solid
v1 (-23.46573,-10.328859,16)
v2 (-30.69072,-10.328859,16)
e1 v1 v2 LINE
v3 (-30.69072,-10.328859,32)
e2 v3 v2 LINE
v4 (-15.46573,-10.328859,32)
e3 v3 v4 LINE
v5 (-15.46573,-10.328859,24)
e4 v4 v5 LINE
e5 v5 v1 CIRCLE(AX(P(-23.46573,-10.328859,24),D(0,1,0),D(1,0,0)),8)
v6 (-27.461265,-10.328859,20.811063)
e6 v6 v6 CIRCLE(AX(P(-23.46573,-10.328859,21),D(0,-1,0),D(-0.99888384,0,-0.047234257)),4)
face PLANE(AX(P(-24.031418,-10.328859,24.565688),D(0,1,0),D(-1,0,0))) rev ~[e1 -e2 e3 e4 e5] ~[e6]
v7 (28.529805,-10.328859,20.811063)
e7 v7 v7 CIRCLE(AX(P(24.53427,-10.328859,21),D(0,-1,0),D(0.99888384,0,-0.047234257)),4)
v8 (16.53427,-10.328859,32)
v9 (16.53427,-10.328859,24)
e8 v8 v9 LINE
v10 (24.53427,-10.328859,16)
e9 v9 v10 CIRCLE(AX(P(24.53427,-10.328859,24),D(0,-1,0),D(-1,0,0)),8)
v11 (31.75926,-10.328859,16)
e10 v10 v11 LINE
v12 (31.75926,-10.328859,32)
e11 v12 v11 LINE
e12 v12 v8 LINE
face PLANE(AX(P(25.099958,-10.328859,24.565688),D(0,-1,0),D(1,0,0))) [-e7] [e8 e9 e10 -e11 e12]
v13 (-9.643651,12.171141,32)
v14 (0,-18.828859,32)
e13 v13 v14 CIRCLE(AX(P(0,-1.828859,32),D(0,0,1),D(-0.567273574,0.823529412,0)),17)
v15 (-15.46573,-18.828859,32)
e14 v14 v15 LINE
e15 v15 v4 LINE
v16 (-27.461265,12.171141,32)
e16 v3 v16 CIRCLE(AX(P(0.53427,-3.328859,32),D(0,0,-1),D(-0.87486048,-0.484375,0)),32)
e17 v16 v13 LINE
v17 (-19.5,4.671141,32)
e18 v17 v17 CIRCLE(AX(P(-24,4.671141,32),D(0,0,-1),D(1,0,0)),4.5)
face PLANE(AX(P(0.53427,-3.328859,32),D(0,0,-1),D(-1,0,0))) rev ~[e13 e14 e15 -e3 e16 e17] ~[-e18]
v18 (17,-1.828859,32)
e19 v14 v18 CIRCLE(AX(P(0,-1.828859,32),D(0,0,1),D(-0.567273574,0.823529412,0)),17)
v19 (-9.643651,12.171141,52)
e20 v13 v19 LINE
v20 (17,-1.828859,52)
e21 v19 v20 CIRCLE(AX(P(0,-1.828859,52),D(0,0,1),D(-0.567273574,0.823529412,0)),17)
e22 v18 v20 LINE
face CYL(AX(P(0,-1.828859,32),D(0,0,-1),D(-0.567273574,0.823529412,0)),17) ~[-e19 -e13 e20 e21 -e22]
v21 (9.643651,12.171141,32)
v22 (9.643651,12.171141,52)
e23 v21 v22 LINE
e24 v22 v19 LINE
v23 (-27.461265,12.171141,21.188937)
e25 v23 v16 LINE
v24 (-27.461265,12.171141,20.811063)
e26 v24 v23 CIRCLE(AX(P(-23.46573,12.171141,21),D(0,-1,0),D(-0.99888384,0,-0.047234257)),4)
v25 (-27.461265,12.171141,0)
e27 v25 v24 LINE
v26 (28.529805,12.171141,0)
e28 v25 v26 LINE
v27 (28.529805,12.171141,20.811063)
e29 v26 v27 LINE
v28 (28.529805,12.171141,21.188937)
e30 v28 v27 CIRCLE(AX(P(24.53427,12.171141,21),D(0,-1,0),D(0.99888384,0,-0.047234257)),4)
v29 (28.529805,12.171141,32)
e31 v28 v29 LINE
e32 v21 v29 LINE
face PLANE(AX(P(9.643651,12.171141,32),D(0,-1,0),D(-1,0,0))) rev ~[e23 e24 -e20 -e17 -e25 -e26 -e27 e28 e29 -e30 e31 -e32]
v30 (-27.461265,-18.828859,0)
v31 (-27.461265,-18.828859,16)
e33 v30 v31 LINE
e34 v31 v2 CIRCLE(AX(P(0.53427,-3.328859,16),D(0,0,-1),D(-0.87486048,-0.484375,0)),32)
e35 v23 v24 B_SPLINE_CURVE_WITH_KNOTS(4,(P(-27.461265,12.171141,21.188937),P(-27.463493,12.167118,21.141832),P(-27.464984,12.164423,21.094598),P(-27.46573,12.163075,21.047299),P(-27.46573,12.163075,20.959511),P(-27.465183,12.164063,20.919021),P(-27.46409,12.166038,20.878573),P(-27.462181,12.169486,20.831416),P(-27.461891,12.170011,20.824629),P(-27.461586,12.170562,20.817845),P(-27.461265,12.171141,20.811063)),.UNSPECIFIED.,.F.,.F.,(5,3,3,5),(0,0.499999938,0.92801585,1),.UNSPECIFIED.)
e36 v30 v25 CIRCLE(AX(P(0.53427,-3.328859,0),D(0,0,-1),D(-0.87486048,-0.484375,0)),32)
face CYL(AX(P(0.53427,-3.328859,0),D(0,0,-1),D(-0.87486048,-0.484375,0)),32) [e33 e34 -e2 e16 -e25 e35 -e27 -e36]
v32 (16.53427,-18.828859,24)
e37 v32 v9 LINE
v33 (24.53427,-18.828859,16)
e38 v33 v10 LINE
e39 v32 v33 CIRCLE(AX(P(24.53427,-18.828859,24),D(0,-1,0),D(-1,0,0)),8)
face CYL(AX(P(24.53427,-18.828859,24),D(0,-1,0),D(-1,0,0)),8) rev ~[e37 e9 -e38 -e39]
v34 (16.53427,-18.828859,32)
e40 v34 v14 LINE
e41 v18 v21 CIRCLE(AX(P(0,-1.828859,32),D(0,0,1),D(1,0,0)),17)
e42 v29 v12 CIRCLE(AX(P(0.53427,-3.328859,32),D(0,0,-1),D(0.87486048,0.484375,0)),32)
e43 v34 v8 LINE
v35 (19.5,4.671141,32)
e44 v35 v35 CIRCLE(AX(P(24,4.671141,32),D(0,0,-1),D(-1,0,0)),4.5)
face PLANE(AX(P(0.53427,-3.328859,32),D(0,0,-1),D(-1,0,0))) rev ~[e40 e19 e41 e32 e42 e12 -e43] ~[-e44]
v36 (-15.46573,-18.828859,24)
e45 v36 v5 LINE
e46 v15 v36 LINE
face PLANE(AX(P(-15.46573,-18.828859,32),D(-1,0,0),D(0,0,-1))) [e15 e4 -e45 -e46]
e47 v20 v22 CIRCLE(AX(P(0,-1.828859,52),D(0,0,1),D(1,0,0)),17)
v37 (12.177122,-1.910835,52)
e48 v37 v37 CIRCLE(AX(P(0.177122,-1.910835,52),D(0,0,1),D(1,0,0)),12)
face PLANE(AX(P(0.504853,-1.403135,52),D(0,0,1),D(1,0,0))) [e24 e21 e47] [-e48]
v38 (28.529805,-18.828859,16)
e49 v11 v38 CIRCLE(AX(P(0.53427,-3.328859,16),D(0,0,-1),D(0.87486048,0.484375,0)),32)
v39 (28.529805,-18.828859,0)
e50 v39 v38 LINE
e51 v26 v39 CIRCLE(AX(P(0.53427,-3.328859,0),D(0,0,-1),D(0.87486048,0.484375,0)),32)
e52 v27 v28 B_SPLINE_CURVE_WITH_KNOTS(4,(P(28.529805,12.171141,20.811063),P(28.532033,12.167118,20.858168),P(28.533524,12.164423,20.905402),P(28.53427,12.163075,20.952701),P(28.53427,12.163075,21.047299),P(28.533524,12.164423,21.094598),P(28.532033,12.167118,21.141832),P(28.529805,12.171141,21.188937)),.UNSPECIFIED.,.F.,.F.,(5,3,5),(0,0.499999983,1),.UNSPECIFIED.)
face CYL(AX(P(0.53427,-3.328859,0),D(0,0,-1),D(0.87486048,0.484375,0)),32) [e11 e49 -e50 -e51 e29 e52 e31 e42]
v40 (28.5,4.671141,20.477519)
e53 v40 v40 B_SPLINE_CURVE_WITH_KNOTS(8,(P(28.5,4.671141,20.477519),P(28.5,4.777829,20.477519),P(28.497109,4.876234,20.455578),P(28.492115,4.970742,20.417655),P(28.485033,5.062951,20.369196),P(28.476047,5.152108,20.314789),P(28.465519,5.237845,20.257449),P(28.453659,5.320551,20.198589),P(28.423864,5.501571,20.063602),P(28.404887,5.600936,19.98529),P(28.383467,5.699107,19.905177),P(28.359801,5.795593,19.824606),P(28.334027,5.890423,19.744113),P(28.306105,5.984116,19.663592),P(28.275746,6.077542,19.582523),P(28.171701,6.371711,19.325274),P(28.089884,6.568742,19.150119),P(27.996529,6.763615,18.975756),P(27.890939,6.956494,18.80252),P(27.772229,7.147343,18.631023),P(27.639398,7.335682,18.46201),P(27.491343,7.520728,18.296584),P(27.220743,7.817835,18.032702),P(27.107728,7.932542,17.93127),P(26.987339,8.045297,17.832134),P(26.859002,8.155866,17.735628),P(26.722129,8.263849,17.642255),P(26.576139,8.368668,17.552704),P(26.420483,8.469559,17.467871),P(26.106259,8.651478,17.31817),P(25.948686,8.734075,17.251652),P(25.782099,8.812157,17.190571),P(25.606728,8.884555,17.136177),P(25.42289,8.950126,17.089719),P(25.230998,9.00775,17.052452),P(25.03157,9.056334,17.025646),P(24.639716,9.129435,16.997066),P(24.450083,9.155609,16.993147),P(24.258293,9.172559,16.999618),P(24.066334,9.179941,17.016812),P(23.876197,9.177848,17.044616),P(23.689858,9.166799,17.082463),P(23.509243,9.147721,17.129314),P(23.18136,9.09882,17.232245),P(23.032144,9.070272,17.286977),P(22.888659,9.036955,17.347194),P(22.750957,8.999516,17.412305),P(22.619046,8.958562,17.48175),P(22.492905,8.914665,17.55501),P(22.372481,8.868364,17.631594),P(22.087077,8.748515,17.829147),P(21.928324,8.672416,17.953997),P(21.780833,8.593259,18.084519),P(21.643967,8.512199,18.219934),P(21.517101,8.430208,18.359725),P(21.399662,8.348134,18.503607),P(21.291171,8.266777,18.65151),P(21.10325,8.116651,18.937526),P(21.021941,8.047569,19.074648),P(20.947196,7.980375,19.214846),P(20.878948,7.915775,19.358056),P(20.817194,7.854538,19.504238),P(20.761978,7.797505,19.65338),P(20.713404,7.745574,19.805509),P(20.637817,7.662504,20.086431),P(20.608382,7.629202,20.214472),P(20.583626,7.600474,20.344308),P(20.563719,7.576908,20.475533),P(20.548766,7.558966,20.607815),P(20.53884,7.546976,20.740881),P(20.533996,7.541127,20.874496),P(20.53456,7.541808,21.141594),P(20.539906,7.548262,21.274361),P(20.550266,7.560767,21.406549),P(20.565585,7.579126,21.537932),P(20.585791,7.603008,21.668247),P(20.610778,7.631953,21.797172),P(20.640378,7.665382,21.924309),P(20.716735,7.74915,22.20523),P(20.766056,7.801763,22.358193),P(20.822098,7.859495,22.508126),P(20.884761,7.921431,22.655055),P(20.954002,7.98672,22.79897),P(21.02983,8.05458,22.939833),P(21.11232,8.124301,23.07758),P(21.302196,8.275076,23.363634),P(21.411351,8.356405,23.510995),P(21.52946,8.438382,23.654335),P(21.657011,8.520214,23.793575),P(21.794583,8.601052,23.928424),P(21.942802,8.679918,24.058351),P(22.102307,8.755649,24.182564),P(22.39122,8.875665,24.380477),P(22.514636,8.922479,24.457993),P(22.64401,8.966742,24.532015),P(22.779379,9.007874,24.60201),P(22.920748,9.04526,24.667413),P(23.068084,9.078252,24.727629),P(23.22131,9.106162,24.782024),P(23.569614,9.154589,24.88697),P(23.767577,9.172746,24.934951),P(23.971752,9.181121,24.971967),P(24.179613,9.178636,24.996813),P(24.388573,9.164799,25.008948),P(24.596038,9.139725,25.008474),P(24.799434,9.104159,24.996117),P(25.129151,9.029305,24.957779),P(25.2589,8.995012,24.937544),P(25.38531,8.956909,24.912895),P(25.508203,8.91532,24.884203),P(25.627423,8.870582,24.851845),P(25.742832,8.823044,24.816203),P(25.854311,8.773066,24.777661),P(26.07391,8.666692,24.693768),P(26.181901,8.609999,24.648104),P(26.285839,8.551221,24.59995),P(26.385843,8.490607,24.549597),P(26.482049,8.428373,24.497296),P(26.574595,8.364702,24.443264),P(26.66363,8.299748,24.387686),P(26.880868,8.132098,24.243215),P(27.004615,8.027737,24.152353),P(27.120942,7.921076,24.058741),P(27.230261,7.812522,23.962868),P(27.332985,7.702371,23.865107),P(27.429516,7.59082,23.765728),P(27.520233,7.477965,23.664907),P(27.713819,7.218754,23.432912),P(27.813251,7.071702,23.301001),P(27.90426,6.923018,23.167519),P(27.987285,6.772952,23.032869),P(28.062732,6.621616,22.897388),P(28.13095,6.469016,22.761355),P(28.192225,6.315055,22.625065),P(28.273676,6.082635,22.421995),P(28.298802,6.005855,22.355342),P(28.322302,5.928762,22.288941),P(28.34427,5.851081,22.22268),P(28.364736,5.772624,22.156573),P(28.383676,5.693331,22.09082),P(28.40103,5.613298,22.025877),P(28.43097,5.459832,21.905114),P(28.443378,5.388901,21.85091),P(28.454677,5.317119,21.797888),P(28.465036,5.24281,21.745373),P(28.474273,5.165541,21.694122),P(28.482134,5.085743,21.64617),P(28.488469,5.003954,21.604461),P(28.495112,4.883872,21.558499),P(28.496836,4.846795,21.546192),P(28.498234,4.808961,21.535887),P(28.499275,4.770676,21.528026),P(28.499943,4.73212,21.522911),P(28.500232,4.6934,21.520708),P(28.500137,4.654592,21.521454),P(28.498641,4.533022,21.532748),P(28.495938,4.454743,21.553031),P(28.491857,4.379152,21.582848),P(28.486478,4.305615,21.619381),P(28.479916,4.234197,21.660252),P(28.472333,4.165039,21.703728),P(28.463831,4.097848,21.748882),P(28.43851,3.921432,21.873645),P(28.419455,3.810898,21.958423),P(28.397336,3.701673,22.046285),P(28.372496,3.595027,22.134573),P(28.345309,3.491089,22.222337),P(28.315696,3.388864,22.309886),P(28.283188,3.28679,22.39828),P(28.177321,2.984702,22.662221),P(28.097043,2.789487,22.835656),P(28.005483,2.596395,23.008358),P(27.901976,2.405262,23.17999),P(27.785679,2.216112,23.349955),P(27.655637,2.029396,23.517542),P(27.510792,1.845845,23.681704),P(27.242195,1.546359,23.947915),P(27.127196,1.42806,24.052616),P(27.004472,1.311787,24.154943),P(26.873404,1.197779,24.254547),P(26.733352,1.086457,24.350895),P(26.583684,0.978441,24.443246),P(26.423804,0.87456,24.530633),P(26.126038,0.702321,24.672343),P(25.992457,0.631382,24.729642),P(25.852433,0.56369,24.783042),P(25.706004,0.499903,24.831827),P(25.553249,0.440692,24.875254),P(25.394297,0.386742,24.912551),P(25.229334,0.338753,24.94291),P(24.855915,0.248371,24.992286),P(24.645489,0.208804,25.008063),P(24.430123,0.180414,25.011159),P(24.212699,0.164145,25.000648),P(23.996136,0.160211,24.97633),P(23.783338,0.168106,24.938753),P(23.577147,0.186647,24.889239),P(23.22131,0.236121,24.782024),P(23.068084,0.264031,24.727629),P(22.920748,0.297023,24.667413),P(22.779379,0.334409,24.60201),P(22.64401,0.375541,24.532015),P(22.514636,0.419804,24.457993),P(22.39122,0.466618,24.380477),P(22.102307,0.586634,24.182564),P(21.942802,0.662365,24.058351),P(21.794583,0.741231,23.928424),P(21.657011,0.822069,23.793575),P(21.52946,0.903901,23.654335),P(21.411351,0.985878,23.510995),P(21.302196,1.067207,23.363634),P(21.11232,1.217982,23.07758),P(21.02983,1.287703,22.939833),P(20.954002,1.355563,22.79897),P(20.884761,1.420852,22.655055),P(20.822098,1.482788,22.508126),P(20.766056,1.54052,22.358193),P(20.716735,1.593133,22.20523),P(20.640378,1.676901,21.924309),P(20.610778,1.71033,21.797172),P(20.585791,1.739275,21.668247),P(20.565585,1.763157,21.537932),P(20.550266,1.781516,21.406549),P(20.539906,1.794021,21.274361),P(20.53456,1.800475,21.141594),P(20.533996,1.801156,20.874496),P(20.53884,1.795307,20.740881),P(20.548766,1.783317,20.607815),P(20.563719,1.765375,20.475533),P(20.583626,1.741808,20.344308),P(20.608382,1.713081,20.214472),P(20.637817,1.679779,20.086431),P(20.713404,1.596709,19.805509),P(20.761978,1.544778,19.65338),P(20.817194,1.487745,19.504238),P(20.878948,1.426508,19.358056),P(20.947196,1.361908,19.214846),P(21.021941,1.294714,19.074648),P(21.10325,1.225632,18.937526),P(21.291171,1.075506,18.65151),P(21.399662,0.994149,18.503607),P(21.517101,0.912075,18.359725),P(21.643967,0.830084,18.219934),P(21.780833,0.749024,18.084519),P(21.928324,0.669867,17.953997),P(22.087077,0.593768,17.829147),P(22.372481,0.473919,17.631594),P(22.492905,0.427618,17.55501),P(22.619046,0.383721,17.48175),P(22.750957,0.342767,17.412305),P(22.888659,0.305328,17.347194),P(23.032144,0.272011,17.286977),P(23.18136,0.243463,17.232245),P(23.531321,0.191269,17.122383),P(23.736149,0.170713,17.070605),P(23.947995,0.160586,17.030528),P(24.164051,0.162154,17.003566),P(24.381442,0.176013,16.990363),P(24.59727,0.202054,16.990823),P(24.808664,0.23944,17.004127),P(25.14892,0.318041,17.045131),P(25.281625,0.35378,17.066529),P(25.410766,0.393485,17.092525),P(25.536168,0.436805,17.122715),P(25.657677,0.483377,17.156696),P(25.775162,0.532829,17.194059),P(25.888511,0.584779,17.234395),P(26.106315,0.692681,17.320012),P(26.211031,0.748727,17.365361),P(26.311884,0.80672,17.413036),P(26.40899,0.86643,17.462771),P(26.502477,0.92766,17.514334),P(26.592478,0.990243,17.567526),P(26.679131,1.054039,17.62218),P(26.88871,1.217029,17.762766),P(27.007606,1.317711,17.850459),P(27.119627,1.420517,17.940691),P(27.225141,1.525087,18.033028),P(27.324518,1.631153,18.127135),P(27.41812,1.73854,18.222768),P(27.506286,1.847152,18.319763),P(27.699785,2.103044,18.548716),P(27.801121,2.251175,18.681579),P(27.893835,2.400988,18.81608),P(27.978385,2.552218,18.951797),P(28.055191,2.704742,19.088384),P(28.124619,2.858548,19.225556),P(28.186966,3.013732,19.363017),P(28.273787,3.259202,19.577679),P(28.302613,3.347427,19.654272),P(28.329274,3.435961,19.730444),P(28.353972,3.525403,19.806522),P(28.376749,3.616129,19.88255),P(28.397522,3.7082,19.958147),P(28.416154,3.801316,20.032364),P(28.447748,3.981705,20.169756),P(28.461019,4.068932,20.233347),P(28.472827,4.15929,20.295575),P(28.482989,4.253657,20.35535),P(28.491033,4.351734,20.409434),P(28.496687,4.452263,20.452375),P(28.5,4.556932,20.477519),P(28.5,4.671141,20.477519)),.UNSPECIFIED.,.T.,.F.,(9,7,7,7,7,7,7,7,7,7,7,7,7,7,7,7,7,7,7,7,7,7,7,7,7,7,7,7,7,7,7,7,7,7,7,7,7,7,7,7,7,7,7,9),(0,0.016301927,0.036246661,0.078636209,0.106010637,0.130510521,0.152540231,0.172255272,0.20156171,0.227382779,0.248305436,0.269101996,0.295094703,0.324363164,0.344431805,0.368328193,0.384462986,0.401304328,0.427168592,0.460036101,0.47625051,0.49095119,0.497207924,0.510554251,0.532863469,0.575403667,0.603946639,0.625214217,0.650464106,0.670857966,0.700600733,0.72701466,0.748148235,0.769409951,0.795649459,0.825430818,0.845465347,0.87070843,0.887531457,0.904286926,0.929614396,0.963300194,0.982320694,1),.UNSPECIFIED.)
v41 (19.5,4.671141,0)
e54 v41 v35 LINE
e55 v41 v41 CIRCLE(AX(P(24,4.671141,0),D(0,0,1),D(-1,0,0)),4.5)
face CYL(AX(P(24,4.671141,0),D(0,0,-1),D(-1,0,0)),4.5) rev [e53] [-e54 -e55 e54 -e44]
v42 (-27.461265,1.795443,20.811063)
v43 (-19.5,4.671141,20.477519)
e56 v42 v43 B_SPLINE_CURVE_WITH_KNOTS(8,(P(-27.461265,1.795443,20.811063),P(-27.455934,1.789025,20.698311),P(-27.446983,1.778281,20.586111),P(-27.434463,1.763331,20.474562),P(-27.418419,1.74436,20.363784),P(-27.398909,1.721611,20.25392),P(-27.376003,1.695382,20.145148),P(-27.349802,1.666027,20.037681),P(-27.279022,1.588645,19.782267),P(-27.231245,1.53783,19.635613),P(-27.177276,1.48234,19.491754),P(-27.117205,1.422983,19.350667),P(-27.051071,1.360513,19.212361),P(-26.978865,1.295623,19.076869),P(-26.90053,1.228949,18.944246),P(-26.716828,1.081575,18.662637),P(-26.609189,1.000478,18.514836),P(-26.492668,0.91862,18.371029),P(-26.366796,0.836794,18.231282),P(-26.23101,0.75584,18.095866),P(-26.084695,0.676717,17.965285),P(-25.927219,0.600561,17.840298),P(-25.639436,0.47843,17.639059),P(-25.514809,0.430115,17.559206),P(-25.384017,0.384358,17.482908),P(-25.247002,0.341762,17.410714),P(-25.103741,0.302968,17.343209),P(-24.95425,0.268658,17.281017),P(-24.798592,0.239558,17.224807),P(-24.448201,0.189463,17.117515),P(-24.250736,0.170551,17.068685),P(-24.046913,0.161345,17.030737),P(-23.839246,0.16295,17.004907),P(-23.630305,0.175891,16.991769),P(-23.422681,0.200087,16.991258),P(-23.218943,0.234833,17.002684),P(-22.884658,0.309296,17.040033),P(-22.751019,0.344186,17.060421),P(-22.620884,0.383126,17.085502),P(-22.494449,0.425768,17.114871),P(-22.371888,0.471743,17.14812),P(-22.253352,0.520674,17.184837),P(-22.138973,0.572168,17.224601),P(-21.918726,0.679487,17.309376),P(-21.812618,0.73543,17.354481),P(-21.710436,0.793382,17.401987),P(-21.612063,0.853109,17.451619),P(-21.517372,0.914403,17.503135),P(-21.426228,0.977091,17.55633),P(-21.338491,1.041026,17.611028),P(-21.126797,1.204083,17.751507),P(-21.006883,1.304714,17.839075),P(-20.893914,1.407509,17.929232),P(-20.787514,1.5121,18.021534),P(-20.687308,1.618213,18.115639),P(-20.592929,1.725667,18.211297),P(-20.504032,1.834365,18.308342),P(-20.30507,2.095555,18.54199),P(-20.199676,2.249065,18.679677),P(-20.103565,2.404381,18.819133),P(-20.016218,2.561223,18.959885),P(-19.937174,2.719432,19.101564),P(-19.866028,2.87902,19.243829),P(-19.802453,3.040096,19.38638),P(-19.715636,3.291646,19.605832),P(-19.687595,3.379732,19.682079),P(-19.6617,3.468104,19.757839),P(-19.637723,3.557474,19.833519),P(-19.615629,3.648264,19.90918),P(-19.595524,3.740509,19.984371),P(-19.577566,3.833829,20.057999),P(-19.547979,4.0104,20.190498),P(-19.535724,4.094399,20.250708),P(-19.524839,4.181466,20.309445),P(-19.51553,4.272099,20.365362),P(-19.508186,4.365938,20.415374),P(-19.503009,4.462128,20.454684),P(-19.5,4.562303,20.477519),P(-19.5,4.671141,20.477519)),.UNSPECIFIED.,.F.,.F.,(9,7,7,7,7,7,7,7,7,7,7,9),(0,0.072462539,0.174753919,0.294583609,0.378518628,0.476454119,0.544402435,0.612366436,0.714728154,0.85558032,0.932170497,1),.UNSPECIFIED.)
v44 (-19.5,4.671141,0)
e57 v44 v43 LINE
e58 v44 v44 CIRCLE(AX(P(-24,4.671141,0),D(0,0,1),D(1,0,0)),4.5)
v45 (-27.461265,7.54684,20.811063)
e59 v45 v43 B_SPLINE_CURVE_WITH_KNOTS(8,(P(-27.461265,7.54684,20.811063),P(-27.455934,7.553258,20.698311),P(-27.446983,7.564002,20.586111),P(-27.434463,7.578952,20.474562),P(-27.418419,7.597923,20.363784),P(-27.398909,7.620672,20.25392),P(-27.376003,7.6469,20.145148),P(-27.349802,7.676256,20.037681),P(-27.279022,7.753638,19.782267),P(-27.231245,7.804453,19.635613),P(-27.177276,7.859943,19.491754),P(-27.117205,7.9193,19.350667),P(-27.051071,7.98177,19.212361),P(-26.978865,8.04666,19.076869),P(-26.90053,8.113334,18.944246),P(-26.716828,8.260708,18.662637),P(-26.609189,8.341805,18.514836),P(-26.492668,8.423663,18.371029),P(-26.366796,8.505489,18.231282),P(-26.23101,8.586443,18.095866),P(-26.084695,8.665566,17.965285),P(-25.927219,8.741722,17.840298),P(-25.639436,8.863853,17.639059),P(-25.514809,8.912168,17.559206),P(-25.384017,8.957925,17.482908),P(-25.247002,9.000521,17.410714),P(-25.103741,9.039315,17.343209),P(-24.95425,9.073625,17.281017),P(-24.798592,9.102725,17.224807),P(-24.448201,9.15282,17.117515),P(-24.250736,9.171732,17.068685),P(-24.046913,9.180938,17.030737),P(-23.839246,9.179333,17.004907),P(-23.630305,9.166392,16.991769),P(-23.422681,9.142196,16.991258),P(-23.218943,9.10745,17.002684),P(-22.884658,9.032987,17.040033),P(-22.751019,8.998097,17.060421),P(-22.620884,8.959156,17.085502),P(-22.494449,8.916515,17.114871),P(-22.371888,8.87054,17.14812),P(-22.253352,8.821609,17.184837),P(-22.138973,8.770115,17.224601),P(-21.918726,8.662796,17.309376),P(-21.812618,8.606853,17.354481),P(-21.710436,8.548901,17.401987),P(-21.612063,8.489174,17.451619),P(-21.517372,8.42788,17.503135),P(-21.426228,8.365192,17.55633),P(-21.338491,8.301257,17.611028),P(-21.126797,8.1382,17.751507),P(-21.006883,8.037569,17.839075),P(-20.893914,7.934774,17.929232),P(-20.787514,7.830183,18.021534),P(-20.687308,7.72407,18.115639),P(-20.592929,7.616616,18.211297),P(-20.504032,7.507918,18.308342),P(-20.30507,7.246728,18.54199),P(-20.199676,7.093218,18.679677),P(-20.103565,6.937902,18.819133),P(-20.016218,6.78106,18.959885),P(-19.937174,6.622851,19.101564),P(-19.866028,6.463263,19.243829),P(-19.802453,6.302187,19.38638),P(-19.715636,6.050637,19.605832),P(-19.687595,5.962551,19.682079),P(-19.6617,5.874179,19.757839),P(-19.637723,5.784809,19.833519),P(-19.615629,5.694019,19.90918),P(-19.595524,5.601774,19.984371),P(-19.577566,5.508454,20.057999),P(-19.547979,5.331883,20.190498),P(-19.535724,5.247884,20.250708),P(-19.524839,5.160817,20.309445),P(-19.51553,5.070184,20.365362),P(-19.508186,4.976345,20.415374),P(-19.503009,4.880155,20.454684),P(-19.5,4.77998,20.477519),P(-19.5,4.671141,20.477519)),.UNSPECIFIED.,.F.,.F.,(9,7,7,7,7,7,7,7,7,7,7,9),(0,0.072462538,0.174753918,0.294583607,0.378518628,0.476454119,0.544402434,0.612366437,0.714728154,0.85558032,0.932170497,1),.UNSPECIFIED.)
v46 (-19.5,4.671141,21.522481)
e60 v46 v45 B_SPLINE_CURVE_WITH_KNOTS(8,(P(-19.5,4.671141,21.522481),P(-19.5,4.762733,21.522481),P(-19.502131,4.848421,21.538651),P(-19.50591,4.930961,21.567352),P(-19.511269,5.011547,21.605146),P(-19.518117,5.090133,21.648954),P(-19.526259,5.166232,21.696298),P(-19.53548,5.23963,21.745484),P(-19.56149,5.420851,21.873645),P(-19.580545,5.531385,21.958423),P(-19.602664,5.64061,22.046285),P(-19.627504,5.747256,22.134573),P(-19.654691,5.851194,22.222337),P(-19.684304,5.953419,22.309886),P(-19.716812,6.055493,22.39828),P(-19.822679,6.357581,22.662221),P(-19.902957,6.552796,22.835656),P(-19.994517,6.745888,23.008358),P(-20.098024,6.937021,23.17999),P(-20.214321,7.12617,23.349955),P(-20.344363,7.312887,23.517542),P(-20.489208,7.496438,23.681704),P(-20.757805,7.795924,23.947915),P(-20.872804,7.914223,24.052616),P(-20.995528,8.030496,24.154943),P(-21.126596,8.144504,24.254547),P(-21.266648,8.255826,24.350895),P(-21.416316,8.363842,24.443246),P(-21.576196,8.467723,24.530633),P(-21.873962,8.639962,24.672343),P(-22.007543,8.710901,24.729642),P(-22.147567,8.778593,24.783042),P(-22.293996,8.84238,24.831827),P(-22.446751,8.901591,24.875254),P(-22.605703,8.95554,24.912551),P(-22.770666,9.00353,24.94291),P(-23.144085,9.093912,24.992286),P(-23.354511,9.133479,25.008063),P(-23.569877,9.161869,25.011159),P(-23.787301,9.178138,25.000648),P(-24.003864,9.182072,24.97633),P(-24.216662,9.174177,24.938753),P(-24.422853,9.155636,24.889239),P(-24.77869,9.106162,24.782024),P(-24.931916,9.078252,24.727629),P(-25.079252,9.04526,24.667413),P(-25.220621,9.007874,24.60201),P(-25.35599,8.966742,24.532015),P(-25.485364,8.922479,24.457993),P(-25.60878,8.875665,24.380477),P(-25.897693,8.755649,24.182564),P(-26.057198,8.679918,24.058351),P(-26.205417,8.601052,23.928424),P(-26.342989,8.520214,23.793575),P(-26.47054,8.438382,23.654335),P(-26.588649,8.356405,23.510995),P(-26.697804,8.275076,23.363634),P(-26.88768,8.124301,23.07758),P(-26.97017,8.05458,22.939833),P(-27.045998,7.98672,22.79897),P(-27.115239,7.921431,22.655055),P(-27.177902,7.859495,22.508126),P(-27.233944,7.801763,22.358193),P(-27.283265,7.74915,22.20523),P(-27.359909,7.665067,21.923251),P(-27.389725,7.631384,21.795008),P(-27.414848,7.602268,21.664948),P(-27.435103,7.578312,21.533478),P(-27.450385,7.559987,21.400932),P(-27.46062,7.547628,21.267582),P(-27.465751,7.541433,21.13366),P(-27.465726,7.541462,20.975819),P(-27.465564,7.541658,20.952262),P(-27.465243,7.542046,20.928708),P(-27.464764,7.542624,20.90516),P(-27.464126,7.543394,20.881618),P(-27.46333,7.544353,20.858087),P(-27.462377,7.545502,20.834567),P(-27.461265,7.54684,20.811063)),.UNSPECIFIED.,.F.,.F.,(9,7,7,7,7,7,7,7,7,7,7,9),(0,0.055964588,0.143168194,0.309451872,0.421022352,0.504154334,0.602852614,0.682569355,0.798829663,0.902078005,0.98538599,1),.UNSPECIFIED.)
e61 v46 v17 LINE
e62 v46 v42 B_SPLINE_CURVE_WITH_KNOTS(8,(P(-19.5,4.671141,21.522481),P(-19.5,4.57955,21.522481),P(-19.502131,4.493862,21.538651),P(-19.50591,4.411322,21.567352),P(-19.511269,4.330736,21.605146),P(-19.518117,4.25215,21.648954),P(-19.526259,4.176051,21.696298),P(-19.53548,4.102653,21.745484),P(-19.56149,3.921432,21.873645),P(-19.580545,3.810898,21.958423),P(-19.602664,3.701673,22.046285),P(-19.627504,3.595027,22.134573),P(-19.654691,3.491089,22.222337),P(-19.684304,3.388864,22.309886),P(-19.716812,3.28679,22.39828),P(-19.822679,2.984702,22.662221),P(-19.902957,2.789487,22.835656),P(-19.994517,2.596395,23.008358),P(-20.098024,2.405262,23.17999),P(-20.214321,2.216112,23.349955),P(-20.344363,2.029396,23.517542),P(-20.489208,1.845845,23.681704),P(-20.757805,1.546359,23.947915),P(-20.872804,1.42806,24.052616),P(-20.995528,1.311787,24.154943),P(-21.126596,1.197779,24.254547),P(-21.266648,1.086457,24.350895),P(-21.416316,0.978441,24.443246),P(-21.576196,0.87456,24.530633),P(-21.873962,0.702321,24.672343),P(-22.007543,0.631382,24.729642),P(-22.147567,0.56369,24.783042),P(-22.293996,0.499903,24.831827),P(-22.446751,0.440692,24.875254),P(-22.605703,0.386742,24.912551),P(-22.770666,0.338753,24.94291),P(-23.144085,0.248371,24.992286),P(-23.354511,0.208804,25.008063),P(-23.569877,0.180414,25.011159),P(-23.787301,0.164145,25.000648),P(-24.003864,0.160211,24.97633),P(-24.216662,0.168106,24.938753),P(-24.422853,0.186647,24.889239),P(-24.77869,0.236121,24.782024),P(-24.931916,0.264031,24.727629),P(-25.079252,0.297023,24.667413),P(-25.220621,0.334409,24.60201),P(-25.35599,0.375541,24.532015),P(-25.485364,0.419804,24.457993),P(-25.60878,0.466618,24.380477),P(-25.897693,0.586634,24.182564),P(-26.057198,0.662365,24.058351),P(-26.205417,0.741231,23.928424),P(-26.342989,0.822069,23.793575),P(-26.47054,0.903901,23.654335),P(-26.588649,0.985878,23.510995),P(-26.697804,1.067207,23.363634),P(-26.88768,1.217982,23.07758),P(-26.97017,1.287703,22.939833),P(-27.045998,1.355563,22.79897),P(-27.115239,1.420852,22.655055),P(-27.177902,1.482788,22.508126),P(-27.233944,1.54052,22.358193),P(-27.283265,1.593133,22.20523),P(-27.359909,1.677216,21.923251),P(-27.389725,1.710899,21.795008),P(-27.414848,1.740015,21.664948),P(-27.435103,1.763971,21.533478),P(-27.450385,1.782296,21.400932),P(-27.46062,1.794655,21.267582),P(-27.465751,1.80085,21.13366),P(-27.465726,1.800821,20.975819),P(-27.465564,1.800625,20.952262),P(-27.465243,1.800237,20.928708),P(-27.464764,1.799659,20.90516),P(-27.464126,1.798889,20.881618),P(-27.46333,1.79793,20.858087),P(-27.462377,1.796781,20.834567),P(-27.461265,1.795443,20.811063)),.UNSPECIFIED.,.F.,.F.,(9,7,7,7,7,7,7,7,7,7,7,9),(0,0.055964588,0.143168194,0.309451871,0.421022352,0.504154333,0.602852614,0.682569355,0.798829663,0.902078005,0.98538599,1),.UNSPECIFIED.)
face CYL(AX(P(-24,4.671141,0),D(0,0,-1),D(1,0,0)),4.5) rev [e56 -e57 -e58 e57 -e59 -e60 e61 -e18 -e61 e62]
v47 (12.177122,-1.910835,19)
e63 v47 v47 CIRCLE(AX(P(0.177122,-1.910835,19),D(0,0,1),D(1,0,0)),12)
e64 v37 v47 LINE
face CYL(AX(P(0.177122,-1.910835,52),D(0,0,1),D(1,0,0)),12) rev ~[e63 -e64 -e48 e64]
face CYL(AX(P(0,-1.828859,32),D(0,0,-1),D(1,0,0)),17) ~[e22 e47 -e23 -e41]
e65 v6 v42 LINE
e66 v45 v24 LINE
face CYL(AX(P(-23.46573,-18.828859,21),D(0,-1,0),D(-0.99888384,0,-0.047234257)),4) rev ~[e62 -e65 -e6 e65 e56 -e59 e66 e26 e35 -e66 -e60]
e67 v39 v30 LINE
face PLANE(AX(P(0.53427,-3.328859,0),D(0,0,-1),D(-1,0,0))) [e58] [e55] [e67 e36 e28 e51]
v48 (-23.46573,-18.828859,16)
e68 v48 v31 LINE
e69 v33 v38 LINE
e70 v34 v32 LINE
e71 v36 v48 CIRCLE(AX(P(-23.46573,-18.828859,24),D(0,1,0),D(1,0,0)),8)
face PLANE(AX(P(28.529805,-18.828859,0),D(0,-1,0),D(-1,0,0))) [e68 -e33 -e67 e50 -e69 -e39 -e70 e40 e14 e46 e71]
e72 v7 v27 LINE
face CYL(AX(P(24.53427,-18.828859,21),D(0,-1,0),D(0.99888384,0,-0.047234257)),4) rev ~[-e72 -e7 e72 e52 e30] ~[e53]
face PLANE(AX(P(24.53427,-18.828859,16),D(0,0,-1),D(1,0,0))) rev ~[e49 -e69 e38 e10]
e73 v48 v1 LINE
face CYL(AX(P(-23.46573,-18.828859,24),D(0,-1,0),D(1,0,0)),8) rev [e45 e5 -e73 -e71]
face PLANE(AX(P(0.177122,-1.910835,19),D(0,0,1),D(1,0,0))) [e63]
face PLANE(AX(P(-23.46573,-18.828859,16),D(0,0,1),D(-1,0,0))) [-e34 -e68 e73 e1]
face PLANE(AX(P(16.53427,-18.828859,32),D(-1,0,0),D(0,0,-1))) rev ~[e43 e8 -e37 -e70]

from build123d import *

# Parameters (mm, degrees)
BOSS_EXTRU_1_DEPTH      = 32
ESQUISSE2_R             = 4
ENL_V_MAT_EXTRU_1_DEPTH = 32
ESQUISSE3_R             = 4.5
ENL_V_MAT_EXTRU_3_DEPTH = 42
ENL_V_MAT_EXTRU_4_DEPTH = 8.5
BOSS_EXTRU_2_DEPTH      = 20
ESQUISSE7_R             = 12
ENL_V_MAT_EXTRU_5_DEPTH = 33


with BuildPart() as part:
    # Esquisse1 → Boss.-Extru.1 (new body)
    with BuildSketch(Plane.XY):
        with BuildLine():
            Line((-27.461265237, 12.171141476), (28.529805479, 12.171141476))
            ThreePointArc((28.529805479, 12.171141476), (32.534270121, -3.328858524), (28.529805479, -18.828858524))
            Line((28.529805479, -18.828858524), (-27.461265237, -18.828858524))
            ThreePointArc((-27.461265237, -18.828858524), (-31.465729879, -3.328858524), (-27.461265237, 12.171141476))
        make_face()
    extrude(amount=BOSS_EXTRU_1_DEPTH)

    # Esquisse2 → Enlèv. mat.-Extru.1 (cut)
    with BuildSketch(Plane.XZ.offset(18.828858524)):
        with Locations(Location((24.534270121, 21, 0), (0, 0, 357.292669089))):
            Circle(ESQUISSE2_R)
        with Locations(Location((-23.465729879, 21, 0), (0, 0, 182.707330911))):
            Circle(ESQUISSE2_R)
    extrude(amount=-ENL_V_MAT_EXTRU_1_DEPTH, mode=Mode.SUBTRACT)

    # Esquisse3 → Enlèv. mat.-Extru.3 (cut)
    with BuildSketch(Plane.XY):
        with Locations((-24, 4.671141476)):
            Circle(ESQUISSE3_R)
        with Locations(Location((24, 4.671141476, 0), (0, 0, 180))):
            Circle(ESQUISSE3_R)
    extrude(amount=ENL_V_MAT_EXTRU_3_DEPTH, mode=Mode.SUBTRACT)

    # Esquisse5 → Enlèv. mat.-Extru.4 (cut)
    with BuildSketch(Plane.XZ.offset(18.828858524)):
        with BuildLine():
            Line((-15.465729879, 32), (-15.465729879, 24))
            ThreePointArc((-15.465729879, 24), (-17.80887563, 18.343145751), (-23.465729879, 16))
            Line((-23.465729879, 16), (-31.465729879, 16))
            Line((-31.465729879, 16), (-31.465729879, 32))
            Line((-31.465729879, 32), (-15.465729879, 32))
        make_face()
        with BuildLine():
            Line((24.534270121, 16), (32.534270121, 16))
            Line((32.534270121, 16), (32.534270121, 32))
            Line((32.534270121, 32), (16.534270121, 32))
            Line((16.534270121, 32), (16.534270121, 24))
            ThreePointArc((16.534270121, 24), (18.877415871, 18.343145751), (24.534270121, 16))
        make_face()
    extrude(amount=-ENL_V_MAT_EXTRU_4_DEPTH, mode=Mode.SUBTRACT)

    # Esquisse6 → Boss.-Extru.2 (add)
    with BuildSketch(Plane.XY.offset(32)):
        with BuildLine():
            Line((9.643650761, 12.171141476), (-9.643650761, 12.171141476))
            ThreePointArc((-9.643650761, 12.171141476), (-7.907526069, -16.877813022), (17, -1.828858524))
            ThreePointArc((17, -1.828858524), (15.048954498, 6.078667545), (9.643650761, 12.171141476))
        make_face()
    extrude(amount=BOSS_EXTRU_2_DEPTH)

    # Esquisse7 → Enlèv. mat.-Extru.5 (cut)
    with BuildSketch(Plane.XY.offset(52)):
        with Locations((0.177122326, -1.910835069)):
            Circle(ESQUISSE7_R)
    extrude(amount=-ENL_V_MAT_EXTRU_5_DEPTH, mode=Mode.SUBTRACT)


solid = part.part
